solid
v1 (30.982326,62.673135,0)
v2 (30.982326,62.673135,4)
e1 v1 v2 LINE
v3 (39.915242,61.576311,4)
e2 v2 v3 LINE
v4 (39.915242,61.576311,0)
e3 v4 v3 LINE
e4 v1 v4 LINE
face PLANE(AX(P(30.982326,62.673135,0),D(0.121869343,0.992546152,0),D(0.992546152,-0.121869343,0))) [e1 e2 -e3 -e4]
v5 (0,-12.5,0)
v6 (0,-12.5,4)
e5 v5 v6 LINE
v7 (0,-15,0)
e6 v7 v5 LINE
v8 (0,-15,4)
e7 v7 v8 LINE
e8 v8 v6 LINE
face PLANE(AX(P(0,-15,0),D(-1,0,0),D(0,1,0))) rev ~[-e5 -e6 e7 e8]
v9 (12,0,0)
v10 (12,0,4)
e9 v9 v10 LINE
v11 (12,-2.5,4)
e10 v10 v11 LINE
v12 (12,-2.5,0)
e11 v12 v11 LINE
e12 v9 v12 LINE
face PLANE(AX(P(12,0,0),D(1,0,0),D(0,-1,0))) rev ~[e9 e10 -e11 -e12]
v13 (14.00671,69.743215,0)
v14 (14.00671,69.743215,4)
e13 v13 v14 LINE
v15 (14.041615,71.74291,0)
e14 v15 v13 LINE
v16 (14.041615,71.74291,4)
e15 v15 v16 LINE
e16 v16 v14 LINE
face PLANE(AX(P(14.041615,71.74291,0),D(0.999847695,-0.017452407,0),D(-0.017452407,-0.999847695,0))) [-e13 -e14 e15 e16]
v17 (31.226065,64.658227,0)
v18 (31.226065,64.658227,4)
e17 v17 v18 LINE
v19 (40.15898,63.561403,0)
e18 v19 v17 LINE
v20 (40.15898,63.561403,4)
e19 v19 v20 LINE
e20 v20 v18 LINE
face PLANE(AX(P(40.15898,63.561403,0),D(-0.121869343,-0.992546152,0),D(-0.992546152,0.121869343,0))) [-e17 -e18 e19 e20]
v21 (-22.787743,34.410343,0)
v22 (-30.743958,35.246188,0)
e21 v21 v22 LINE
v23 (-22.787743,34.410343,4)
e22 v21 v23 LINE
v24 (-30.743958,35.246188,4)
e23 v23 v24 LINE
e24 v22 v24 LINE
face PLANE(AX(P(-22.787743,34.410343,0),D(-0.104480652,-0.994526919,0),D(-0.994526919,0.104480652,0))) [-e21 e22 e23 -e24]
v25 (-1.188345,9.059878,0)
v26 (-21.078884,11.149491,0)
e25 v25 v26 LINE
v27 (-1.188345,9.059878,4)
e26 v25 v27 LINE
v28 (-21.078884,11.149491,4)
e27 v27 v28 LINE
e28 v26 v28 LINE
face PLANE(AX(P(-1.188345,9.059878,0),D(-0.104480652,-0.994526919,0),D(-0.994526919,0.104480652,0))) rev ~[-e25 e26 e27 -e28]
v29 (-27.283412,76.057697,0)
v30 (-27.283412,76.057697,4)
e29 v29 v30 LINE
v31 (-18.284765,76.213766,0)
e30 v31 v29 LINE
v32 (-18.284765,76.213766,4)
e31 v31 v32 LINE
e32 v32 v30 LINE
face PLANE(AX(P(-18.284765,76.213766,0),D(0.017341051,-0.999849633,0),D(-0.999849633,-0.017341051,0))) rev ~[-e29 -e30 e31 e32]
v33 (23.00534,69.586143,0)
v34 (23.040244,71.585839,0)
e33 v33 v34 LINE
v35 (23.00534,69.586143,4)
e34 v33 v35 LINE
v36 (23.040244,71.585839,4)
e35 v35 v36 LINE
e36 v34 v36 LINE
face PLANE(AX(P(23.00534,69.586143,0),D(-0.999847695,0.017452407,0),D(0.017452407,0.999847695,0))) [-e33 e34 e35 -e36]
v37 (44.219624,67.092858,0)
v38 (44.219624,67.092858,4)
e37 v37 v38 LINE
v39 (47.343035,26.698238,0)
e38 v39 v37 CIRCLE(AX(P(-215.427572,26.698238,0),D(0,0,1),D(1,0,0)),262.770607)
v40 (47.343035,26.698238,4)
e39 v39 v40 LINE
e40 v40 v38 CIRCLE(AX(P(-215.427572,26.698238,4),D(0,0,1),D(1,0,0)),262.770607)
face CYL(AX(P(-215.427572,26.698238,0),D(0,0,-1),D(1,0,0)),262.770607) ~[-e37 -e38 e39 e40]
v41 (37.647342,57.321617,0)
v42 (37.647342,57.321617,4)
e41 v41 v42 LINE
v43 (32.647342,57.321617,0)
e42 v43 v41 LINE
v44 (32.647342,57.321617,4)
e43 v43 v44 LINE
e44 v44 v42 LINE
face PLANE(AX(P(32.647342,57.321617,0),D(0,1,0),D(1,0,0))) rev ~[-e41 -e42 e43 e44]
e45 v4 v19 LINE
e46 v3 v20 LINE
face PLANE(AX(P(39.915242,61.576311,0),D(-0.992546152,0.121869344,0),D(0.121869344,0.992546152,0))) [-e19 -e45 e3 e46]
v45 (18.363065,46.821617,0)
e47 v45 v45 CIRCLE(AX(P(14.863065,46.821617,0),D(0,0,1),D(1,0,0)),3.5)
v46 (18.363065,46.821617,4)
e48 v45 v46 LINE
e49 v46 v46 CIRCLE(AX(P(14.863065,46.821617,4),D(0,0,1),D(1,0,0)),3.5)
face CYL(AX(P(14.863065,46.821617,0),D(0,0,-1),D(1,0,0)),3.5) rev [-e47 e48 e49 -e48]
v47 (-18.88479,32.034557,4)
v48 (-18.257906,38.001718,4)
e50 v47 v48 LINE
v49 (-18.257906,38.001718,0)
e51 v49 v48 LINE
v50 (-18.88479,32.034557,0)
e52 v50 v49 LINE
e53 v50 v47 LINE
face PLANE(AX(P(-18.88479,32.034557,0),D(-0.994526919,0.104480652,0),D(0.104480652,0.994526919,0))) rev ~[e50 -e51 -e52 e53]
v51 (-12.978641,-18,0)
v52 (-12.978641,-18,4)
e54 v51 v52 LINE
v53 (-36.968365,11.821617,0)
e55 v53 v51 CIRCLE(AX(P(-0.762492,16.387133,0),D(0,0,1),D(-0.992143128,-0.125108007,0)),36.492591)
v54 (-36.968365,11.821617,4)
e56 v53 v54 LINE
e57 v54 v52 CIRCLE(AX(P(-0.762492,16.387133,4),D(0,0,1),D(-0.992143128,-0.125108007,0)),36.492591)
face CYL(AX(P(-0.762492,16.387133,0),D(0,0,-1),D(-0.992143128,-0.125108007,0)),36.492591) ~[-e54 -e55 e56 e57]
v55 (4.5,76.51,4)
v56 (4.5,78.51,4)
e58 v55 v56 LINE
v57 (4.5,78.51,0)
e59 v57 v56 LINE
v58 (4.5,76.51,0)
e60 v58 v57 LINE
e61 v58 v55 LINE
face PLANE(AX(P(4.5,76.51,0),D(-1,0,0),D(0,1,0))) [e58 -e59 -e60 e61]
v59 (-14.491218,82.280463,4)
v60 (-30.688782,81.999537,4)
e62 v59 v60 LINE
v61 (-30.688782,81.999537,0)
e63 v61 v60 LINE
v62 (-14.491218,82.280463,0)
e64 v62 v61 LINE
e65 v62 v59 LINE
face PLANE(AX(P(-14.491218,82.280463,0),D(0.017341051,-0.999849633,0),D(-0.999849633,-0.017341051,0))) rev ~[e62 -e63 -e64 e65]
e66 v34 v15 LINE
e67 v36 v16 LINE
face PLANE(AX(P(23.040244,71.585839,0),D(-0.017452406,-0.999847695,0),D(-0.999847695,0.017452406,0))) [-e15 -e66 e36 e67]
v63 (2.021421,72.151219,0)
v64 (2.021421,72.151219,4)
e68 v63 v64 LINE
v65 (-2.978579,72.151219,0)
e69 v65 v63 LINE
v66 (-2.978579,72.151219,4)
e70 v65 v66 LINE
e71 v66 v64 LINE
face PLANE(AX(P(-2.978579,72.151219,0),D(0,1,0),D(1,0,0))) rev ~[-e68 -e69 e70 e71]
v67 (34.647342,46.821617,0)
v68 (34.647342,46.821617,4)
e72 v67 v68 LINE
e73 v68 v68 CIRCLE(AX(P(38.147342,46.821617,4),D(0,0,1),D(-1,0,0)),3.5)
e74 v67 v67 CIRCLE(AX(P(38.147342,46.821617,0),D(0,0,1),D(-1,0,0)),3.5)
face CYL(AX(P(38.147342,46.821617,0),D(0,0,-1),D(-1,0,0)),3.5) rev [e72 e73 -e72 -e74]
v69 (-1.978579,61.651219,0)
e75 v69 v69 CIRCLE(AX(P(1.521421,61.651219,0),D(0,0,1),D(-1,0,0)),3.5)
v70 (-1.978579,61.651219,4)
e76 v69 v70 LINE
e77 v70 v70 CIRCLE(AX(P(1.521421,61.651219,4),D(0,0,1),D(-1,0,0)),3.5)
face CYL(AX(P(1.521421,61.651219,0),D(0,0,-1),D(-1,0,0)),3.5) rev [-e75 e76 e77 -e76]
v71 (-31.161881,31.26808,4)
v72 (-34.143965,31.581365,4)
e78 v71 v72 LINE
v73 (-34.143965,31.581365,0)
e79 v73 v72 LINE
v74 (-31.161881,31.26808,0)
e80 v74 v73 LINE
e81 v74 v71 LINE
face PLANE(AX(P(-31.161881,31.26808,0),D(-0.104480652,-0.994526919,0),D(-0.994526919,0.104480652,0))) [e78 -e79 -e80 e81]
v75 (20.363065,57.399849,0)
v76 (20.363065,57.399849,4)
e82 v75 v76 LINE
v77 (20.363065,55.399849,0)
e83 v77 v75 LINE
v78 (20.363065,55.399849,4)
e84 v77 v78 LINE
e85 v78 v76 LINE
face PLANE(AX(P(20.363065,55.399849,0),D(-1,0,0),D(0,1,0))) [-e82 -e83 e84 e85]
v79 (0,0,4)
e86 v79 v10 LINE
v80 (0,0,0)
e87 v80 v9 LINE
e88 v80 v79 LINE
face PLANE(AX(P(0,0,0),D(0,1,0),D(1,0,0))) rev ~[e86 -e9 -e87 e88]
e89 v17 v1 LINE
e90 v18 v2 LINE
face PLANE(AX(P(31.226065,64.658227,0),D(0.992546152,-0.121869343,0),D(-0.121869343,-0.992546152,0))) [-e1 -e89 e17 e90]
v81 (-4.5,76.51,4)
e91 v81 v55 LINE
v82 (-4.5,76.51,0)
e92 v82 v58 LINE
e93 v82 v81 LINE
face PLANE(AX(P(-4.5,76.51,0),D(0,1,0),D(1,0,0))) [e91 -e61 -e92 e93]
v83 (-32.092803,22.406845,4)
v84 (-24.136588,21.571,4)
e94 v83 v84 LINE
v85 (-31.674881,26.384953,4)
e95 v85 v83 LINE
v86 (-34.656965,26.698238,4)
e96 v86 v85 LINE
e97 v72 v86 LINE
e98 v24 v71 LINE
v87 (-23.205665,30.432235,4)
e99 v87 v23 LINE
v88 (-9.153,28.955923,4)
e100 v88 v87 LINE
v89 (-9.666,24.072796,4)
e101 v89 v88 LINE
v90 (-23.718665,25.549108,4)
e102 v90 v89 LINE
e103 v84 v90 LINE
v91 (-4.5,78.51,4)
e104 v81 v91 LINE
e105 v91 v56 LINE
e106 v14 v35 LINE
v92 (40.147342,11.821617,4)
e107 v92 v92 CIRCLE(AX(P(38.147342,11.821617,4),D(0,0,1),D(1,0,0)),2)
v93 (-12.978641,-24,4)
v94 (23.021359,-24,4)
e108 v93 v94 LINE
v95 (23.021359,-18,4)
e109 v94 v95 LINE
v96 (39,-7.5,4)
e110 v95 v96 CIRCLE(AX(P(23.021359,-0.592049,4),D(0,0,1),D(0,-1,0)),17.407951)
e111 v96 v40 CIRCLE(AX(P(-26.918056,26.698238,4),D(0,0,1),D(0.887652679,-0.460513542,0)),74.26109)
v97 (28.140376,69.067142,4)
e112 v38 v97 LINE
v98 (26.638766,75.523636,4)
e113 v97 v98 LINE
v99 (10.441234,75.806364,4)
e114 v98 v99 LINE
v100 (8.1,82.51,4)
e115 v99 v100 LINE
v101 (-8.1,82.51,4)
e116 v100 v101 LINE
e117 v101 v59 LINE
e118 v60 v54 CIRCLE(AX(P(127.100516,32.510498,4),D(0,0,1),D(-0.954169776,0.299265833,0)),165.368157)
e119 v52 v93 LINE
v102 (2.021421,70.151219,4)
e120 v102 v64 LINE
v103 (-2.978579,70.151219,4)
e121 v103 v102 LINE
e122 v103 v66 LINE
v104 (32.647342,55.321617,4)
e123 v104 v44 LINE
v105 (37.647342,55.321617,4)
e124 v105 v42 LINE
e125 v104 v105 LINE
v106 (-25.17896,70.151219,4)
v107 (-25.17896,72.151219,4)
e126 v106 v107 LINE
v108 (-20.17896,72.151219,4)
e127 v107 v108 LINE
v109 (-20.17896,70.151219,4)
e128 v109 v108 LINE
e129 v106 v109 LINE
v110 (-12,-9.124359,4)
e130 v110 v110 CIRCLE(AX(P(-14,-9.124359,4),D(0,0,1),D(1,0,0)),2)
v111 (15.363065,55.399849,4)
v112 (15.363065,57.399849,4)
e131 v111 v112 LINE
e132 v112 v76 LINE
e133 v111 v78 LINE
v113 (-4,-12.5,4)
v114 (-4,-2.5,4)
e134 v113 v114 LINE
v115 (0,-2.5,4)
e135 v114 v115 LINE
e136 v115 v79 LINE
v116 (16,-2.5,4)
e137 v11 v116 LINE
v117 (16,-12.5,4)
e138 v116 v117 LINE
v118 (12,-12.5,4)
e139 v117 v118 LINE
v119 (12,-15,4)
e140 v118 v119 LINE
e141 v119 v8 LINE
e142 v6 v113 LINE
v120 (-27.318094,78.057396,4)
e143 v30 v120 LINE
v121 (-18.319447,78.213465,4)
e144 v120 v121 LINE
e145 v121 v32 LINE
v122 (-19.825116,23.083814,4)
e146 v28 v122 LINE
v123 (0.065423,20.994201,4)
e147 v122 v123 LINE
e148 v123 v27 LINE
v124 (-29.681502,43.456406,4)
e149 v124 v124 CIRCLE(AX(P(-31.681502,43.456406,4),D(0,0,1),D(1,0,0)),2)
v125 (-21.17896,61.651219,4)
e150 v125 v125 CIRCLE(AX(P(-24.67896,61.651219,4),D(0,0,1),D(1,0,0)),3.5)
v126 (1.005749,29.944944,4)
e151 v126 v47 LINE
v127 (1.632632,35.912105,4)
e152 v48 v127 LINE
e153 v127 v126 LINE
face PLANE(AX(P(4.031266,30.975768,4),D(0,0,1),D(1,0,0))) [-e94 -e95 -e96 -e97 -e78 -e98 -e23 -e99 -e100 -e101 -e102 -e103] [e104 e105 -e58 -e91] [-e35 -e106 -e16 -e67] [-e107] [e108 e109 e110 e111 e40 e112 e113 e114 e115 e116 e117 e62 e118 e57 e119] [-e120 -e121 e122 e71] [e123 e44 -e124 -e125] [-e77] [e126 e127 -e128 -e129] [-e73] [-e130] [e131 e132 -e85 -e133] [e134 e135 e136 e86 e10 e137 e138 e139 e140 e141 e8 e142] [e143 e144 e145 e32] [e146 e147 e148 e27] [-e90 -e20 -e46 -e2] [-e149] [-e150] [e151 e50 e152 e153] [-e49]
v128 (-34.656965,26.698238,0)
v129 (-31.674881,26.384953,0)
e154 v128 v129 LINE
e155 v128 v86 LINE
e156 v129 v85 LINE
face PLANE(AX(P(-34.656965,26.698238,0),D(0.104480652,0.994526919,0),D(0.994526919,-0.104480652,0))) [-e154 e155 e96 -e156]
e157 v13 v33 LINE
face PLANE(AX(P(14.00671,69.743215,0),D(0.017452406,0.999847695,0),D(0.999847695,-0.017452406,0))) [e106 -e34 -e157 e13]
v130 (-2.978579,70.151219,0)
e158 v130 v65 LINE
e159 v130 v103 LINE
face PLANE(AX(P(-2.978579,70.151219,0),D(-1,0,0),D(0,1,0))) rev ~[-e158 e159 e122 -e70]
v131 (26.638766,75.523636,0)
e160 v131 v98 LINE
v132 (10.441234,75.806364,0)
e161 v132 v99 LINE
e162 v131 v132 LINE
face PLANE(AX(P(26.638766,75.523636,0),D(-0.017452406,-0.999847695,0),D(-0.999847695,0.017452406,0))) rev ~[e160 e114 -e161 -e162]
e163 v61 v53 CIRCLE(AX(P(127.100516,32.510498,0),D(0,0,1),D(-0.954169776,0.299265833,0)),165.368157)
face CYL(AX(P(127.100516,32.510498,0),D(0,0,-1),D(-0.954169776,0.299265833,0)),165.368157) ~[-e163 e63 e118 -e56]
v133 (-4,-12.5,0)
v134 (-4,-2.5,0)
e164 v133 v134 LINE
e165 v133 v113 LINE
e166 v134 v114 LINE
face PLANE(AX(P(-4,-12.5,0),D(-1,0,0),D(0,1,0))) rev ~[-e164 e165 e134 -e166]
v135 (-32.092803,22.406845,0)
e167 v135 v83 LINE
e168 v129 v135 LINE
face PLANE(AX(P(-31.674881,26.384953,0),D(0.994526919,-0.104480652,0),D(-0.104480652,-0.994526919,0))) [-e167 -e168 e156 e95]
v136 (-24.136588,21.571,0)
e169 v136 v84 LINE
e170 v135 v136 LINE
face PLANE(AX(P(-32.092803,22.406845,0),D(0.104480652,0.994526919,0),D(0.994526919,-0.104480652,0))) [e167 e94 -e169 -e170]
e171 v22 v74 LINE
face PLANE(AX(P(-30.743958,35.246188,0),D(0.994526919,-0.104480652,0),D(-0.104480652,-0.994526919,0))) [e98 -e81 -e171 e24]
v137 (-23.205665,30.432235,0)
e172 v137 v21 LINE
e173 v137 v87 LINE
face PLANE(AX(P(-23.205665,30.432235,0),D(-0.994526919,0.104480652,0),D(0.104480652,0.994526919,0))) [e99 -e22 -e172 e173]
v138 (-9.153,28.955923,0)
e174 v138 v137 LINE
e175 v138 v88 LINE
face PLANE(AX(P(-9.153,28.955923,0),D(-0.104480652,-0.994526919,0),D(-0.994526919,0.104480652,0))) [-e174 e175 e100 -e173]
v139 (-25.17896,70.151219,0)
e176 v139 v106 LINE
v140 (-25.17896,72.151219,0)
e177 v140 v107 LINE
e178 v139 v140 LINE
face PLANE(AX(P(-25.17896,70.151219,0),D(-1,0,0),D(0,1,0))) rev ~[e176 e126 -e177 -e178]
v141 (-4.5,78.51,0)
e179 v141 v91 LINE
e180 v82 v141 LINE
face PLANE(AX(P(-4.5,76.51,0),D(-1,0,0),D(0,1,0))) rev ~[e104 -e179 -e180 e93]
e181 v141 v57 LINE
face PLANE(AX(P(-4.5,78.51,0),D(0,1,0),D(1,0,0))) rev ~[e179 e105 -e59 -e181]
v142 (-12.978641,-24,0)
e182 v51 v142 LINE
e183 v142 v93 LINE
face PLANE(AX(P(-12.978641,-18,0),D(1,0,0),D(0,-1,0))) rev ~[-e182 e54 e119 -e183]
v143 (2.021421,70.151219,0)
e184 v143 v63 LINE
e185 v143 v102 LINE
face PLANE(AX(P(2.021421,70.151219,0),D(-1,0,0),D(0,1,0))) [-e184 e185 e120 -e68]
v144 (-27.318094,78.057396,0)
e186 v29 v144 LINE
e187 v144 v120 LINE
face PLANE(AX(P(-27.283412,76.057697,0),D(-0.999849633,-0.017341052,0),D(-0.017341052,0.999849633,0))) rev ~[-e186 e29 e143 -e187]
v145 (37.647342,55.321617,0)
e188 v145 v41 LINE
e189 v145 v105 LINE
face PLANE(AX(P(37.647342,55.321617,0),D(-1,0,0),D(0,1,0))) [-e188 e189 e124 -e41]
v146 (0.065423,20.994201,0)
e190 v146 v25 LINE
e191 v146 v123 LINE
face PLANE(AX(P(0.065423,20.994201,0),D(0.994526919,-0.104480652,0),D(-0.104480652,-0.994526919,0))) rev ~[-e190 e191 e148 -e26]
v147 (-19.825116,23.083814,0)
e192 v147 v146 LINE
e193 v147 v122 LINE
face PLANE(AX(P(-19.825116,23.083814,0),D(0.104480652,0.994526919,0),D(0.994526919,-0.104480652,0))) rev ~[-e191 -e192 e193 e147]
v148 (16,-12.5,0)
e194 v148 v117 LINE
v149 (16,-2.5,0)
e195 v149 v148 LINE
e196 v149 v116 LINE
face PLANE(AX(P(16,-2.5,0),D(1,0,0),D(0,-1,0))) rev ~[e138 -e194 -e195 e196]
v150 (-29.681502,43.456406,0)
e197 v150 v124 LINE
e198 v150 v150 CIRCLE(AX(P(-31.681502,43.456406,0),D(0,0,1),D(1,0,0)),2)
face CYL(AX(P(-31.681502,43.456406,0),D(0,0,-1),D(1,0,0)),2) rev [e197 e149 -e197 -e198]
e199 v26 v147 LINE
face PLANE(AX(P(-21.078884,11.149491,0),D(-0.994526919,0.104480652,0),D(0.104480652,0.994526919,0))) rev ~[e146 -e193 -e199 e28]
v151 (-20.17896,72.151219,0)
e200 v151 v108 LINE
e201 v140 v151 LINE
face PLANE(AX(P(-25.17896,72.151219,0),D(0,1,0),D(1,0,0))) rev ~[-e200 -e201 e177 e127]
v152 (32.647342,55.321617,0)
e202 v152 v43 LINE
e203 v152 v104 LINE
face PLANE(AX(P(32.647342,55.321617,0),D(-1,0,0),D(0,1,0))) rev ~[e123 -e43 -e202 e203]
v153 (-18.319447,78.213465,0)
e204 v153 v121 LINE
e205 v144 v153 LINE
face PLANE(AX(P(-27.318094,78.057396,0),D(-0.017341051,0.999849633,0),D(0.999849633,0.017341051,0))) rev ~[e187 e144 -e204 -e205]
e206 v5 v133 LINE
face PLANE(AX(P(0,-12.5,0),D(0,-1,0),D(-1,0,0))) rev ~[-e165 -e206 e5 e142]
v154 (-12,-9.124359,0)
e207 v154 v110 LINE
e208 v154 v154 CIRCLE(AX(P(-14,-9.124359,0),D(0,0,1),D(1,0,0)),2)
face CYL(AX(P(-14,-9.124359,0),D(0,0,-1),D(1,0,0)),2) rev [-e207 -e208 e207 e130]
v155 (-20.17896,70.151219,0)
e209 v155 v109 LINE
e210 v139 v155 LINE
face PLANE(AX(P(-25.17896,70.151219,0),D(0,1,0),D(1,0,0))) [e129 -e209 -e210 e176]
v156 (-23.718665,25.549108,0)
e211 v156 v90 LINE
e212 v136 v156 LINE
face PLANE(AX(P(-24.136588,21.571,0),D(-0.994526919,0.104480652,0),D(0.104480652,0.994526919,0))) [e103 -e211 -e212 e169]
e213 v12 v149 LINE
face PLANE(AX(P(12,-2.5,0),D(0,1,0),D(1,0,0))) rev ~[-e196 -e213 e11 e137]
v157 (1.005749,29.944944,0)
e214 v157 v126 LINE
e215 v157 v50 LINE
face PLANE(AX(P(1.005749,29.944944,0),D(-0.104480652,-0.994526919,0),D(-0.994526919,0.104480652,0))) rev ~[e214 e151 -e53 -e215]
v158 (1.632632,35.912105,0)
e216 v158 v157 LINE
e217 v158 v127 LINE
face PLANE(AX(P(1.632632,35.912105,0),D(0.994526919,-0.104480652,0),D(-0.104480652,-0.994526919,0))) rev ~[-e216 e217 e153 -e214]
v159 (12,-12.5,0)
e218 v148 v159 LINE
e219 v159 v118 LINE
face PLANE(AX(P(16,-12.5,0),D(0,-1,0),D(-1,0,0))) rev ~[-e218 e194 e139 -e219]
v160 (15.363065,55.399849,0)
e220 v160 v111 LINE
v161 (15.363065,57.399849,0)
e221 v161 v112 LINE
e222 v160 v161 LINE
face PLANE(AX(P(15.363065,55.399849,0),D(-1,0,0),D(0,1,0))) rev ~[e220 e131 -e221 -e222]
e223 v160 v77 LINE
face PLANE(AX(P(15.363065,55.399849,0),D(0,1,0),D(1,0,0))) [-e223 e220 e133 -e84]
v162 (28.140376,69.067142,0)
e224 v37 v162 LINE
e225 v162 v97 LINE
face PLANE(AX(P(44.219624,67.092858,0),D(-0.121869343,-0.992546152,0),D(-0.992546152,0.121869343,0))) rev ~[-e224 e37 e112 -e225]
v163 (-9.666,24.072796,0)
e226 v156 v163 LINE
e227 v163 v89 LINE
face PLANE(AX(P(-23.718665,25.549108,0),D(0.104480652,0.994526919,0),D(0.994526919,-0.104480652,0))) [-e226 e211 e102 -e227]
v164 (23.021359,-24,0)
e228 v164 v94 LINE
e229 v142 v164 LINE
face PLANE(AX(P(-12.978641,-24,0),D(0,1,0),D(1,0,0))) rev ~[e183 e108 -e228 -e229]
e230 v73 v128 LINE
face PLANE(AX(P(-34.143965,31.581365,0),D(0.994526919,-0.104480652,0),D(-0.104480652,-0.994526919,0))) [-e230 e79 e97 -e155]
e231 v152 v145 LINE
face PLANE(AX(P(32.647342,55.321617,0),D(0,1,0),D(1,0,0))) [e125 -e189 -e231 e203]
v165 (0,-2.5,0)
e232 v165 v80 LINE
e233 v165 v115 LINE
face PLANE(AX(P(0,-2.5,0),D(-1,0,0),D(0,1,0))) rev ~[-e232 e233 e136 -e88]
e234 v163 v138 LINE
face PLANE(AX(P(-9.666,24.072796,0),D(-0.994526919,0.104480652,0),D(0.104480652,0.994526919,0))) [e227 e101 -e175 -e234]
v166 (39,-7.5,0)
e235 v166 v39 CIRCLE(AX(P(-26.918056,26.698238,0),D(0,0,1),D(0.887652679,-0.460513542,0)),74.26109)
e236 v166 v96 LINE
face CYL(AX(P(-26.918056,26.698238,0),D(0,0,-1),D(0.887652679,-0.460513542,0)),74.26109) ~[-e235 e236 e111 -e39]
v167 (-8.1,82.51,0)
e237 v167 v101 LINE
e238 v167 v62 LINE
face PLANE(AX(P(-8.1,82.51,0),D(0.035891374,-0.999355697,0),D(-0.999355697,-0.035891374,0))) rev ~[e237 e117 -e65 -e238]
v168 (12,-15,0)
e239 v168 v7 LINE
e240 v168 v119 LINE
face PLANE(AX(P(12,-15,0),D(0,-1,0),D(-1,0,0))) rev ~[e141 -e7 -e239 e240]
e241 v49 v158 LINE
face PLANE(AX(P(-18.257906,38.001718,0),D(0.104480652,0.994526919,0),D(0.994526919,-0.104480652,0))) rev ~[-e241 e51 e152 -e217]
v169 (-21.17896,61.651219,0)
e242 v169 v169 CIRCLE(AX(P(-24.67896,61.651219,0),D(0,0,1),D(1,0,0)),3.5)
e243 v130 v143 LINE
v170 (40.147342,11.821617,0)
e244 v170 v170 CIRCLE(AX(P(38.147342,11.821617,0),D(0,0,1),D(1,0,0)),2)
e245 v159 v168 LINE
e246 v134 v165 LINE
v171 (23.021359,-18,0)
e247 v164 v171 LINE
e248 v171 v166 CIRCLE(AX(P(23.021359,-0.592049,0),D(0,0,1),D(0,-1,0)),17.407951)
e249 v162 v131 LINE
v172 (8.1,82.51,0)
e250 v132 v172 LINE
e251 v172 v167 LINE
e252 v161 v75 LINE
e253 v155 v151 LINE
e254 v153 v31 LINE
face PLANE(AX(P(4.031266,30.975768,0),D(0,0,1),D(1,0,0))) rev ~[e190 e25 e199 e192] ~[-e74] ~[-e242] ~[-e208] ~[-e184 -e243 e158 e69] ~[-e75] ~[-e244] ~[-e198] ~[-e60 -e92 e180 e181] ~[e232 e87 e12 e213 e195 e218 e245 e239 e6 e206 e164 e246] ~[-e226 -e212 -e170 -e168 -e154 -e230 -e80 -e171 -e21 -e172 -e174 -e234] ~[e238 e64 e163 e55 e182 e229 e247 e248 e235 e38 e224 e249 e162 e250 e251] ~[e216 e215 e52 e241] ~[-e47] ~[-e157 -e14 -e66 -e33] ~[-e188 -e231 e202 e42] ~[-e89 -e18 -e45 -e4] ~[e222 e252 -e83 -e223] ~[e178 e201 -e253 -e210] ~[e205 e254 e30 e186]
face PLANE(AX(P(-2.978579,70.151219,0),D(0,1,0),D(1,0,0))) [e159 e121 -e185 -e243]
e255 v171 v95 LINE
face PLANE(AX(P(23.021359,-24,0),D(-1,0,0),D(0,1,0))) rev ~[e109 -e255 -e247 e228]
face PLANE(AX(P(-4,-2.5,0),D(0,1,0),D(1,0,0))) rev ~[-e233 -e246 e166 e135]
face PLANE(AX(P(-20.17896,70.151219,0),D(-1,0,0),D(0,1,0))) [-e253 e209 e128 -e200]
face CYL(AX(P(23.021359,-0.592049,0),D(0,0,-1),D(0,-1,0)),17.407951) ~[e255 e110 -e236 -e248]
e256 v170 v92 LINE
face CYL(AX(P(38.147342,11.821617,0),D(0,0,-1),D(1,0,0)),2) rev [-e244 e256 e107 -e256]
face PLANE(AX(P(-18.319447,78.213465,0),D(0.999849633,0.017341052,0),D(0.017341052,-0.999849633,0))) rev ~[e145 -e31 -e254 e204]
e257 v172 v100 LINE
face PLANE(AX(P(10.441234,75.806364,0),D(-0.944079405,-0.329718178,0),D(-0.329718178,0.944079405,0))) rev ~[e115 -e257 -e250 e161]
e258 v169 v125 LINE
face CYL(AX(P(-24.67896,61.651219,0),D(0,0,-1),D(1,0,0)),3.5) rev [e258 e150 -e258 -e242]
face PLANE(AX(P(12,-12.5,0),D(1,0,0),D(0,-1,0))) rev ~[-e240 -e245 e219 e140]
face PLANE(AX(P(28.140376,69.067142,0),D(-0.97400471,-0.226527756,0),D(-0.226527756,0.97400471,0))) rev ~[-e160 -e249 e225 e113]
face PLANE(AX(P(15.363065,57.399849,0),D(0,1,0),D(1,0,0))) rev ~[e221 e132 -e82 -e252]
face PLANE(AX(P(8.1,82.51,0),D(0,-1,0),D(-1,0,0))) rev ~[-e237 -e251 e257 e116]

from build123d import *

# Parameters (mm, degrees)
SKETCH1_R           = 2
SKETCH1_R_2         = 3.5
SKETCH1_W           = 9
SKETCH1_H           = 2
SKETCH1_W_2         = 5
BOSS_EXTRUDE1_DEPTH = 4


with BuildPart() as part:
    # Sketch1 → Boss-Extrude1 (new body)
    with BuildSketch(Plane.XY):
        with BuildLine():
            Line((-12.978640908, -18), (-12.978640908, -24))
            Line((-12.978640908, -24), (23.021359092, -24))
            Line((23.021359092, -24), (23.021359092, -18))
            ThreePointArc((23.021359092, -18), (32.58126188, -15.140073441), (39, -7.5))
            ThreePointArc((39, -7.5), (45.227131985, 9.097629123), (47.343034567, 26.698237678))
            ThreePointArc((47.343034567, 26.698237678), (46.561018226, 46.955835458), (44.219623828, 67.092858318))
            Line((44.219623828, 67.092858318), (28.140376172, 69.067141682))
            Line((28.140376172, 69.067141682), (26.638766331, 75.523635508))
            Line((26.638766331, 75.523635508), (10.441233669, 75.806364492))
            Line((10.441233669, 75.806364492), (8.1, 82.51))
            Line((8.1, 82.51), (-8.1, 82.51))
            Line((-8.1, 82.51), (-14.491217975, 82.280462515))
            Line((-14.491217975, 82.280462515), (-30.688782025, 81.999537485))
            ThreePointArc((-30.688782025, 81.999537485), (-37.609553588, 47.248902923), (-36.96836533, 11.821617405))
            ThreePointArc((-36.96836533, 11.821617405), (-29.196719191, -6.486518424), (-12.978640908, -18))
        make_face()
        with Locations((38.147341743, 11.821617405)):
            Circle(SKETCH1_R, mode=Mode.SUBTRACT)
        with Locations((-24.678960076, 61.651218734)):
            Circle(SKETCH1_R_2, mode=Mode.SUBTRACT)
        with Locations((1.521420673, 61.651218734)):
            Circle(SKETCH1_R_2, mode=Mode.SUBTRACT)
        with Locations((14.86306514, 46.821617405)):
            Circle(SKETCH1_R_2, mode=Mode.SUBTRACT)
        with Locations((38.147341743, 46.821617405)):
            Circle(SKETCH1_R_2, mode=Mode.SUBTRACT)
        with Locations((-31.681501662, 43.456405989)):
            Circle(SKETCH1_R, mode=Mode.SUBTRACT)
        with Locations((-14, -9.124358763)):
            Circle(SKETCH1_R, mode=Mode.SUBTRACT)
        with Locations((0, 77.51)):
            Rectangle(SKETCH1_W, SKETCH1_H, mode=Mode.SUBTRACT)
        Polygon((-4, -2.5), (0, -2.5), (0, 0), (12, 0), (12, -2.5), (16, -2.5), (16, -12.5), (12, -12.5), (12, -15), (0, -15), (0, -12.5), (-4, -12.5), align=None, mode=Mode.SUBTRACT)
        with Locations((35.147341743, 56.321617405)):
            Rectangle(SKETCH1_W_2, SKETCH1_H, mode=Mode.SUBTRACT)
        Polygon((-27.318093916, 78.057395991), (-18.319447222, 78.213465452), (-18.284765119, 76.213766187), (-27.283411813, 76.057696726), align=None, mode=Mode.SUBTRACT)
        with Locations((17.86306514, 56.399848624)):
            Rectangle(SKETCH1_W_2, SKETCH1_H, mode=Mode.SUBTRACT)
        with Locations((-0.478579327, 71.151218734)):
            Rectangle(SKETCH1_W_2, SKETCH1_H, mode=Mode.SUBTRACT)
        Polygon((14.041615104, 71.742910288), (14.006710291, 69.743214898), (23.005339548, 69.58614324), (23.040244361, 71.58583863), align=None, mode=Mode.SUBTRACT)
        Polygon((40.158980309, 63.561403348), (31.226064944, 64.658227439), (30.982326257, 62.673135135), (39.915241622, 61.576311045), align=None, mode=Mode.SUBTRACT)
        Polygon((1.632632483, 35.912105076), (1.005748572, 29.944943559), (-18.884789816, 32.034556594), (-18.257905905, 38.00171811), align=None, mode=Mode.SUBTRACT)
        with Locations((-22.678960076, 71.151218734)):
            Rectangle(SKETCH1_W_2, SKETCH1_H, mode=Mode.SUBTRACT)
        Polygon((0.065422707, 20.994201285), (-1.188345114, 9.059878252), (-21.078883502, 11.149491286), (-19.825115681, 23.083814319), align=None, mode=Mode.SUBTRACT)
        Polygon((-9.666, 24.072796069), (-9.153, 28.955923243), (-23.205665371, 30.432234852), (-22.787742764, 34.410342529), (-30.743958119, 35.246187743), (-31.161880726, 31.268080066), (-34.143965433, 31.581364852), (-34.656965433, 26.698237678), (-31.674880726, 26.384952891), (-32.092803333, 22.406845214), (-24.136587978, 21.571), (-23.718665371, 25.549107678), align=None, mode=Mode.SUBTRACT)
    extrude(amount=BOSS_EXTRUDE1_DEPTH)


solid = part.part
